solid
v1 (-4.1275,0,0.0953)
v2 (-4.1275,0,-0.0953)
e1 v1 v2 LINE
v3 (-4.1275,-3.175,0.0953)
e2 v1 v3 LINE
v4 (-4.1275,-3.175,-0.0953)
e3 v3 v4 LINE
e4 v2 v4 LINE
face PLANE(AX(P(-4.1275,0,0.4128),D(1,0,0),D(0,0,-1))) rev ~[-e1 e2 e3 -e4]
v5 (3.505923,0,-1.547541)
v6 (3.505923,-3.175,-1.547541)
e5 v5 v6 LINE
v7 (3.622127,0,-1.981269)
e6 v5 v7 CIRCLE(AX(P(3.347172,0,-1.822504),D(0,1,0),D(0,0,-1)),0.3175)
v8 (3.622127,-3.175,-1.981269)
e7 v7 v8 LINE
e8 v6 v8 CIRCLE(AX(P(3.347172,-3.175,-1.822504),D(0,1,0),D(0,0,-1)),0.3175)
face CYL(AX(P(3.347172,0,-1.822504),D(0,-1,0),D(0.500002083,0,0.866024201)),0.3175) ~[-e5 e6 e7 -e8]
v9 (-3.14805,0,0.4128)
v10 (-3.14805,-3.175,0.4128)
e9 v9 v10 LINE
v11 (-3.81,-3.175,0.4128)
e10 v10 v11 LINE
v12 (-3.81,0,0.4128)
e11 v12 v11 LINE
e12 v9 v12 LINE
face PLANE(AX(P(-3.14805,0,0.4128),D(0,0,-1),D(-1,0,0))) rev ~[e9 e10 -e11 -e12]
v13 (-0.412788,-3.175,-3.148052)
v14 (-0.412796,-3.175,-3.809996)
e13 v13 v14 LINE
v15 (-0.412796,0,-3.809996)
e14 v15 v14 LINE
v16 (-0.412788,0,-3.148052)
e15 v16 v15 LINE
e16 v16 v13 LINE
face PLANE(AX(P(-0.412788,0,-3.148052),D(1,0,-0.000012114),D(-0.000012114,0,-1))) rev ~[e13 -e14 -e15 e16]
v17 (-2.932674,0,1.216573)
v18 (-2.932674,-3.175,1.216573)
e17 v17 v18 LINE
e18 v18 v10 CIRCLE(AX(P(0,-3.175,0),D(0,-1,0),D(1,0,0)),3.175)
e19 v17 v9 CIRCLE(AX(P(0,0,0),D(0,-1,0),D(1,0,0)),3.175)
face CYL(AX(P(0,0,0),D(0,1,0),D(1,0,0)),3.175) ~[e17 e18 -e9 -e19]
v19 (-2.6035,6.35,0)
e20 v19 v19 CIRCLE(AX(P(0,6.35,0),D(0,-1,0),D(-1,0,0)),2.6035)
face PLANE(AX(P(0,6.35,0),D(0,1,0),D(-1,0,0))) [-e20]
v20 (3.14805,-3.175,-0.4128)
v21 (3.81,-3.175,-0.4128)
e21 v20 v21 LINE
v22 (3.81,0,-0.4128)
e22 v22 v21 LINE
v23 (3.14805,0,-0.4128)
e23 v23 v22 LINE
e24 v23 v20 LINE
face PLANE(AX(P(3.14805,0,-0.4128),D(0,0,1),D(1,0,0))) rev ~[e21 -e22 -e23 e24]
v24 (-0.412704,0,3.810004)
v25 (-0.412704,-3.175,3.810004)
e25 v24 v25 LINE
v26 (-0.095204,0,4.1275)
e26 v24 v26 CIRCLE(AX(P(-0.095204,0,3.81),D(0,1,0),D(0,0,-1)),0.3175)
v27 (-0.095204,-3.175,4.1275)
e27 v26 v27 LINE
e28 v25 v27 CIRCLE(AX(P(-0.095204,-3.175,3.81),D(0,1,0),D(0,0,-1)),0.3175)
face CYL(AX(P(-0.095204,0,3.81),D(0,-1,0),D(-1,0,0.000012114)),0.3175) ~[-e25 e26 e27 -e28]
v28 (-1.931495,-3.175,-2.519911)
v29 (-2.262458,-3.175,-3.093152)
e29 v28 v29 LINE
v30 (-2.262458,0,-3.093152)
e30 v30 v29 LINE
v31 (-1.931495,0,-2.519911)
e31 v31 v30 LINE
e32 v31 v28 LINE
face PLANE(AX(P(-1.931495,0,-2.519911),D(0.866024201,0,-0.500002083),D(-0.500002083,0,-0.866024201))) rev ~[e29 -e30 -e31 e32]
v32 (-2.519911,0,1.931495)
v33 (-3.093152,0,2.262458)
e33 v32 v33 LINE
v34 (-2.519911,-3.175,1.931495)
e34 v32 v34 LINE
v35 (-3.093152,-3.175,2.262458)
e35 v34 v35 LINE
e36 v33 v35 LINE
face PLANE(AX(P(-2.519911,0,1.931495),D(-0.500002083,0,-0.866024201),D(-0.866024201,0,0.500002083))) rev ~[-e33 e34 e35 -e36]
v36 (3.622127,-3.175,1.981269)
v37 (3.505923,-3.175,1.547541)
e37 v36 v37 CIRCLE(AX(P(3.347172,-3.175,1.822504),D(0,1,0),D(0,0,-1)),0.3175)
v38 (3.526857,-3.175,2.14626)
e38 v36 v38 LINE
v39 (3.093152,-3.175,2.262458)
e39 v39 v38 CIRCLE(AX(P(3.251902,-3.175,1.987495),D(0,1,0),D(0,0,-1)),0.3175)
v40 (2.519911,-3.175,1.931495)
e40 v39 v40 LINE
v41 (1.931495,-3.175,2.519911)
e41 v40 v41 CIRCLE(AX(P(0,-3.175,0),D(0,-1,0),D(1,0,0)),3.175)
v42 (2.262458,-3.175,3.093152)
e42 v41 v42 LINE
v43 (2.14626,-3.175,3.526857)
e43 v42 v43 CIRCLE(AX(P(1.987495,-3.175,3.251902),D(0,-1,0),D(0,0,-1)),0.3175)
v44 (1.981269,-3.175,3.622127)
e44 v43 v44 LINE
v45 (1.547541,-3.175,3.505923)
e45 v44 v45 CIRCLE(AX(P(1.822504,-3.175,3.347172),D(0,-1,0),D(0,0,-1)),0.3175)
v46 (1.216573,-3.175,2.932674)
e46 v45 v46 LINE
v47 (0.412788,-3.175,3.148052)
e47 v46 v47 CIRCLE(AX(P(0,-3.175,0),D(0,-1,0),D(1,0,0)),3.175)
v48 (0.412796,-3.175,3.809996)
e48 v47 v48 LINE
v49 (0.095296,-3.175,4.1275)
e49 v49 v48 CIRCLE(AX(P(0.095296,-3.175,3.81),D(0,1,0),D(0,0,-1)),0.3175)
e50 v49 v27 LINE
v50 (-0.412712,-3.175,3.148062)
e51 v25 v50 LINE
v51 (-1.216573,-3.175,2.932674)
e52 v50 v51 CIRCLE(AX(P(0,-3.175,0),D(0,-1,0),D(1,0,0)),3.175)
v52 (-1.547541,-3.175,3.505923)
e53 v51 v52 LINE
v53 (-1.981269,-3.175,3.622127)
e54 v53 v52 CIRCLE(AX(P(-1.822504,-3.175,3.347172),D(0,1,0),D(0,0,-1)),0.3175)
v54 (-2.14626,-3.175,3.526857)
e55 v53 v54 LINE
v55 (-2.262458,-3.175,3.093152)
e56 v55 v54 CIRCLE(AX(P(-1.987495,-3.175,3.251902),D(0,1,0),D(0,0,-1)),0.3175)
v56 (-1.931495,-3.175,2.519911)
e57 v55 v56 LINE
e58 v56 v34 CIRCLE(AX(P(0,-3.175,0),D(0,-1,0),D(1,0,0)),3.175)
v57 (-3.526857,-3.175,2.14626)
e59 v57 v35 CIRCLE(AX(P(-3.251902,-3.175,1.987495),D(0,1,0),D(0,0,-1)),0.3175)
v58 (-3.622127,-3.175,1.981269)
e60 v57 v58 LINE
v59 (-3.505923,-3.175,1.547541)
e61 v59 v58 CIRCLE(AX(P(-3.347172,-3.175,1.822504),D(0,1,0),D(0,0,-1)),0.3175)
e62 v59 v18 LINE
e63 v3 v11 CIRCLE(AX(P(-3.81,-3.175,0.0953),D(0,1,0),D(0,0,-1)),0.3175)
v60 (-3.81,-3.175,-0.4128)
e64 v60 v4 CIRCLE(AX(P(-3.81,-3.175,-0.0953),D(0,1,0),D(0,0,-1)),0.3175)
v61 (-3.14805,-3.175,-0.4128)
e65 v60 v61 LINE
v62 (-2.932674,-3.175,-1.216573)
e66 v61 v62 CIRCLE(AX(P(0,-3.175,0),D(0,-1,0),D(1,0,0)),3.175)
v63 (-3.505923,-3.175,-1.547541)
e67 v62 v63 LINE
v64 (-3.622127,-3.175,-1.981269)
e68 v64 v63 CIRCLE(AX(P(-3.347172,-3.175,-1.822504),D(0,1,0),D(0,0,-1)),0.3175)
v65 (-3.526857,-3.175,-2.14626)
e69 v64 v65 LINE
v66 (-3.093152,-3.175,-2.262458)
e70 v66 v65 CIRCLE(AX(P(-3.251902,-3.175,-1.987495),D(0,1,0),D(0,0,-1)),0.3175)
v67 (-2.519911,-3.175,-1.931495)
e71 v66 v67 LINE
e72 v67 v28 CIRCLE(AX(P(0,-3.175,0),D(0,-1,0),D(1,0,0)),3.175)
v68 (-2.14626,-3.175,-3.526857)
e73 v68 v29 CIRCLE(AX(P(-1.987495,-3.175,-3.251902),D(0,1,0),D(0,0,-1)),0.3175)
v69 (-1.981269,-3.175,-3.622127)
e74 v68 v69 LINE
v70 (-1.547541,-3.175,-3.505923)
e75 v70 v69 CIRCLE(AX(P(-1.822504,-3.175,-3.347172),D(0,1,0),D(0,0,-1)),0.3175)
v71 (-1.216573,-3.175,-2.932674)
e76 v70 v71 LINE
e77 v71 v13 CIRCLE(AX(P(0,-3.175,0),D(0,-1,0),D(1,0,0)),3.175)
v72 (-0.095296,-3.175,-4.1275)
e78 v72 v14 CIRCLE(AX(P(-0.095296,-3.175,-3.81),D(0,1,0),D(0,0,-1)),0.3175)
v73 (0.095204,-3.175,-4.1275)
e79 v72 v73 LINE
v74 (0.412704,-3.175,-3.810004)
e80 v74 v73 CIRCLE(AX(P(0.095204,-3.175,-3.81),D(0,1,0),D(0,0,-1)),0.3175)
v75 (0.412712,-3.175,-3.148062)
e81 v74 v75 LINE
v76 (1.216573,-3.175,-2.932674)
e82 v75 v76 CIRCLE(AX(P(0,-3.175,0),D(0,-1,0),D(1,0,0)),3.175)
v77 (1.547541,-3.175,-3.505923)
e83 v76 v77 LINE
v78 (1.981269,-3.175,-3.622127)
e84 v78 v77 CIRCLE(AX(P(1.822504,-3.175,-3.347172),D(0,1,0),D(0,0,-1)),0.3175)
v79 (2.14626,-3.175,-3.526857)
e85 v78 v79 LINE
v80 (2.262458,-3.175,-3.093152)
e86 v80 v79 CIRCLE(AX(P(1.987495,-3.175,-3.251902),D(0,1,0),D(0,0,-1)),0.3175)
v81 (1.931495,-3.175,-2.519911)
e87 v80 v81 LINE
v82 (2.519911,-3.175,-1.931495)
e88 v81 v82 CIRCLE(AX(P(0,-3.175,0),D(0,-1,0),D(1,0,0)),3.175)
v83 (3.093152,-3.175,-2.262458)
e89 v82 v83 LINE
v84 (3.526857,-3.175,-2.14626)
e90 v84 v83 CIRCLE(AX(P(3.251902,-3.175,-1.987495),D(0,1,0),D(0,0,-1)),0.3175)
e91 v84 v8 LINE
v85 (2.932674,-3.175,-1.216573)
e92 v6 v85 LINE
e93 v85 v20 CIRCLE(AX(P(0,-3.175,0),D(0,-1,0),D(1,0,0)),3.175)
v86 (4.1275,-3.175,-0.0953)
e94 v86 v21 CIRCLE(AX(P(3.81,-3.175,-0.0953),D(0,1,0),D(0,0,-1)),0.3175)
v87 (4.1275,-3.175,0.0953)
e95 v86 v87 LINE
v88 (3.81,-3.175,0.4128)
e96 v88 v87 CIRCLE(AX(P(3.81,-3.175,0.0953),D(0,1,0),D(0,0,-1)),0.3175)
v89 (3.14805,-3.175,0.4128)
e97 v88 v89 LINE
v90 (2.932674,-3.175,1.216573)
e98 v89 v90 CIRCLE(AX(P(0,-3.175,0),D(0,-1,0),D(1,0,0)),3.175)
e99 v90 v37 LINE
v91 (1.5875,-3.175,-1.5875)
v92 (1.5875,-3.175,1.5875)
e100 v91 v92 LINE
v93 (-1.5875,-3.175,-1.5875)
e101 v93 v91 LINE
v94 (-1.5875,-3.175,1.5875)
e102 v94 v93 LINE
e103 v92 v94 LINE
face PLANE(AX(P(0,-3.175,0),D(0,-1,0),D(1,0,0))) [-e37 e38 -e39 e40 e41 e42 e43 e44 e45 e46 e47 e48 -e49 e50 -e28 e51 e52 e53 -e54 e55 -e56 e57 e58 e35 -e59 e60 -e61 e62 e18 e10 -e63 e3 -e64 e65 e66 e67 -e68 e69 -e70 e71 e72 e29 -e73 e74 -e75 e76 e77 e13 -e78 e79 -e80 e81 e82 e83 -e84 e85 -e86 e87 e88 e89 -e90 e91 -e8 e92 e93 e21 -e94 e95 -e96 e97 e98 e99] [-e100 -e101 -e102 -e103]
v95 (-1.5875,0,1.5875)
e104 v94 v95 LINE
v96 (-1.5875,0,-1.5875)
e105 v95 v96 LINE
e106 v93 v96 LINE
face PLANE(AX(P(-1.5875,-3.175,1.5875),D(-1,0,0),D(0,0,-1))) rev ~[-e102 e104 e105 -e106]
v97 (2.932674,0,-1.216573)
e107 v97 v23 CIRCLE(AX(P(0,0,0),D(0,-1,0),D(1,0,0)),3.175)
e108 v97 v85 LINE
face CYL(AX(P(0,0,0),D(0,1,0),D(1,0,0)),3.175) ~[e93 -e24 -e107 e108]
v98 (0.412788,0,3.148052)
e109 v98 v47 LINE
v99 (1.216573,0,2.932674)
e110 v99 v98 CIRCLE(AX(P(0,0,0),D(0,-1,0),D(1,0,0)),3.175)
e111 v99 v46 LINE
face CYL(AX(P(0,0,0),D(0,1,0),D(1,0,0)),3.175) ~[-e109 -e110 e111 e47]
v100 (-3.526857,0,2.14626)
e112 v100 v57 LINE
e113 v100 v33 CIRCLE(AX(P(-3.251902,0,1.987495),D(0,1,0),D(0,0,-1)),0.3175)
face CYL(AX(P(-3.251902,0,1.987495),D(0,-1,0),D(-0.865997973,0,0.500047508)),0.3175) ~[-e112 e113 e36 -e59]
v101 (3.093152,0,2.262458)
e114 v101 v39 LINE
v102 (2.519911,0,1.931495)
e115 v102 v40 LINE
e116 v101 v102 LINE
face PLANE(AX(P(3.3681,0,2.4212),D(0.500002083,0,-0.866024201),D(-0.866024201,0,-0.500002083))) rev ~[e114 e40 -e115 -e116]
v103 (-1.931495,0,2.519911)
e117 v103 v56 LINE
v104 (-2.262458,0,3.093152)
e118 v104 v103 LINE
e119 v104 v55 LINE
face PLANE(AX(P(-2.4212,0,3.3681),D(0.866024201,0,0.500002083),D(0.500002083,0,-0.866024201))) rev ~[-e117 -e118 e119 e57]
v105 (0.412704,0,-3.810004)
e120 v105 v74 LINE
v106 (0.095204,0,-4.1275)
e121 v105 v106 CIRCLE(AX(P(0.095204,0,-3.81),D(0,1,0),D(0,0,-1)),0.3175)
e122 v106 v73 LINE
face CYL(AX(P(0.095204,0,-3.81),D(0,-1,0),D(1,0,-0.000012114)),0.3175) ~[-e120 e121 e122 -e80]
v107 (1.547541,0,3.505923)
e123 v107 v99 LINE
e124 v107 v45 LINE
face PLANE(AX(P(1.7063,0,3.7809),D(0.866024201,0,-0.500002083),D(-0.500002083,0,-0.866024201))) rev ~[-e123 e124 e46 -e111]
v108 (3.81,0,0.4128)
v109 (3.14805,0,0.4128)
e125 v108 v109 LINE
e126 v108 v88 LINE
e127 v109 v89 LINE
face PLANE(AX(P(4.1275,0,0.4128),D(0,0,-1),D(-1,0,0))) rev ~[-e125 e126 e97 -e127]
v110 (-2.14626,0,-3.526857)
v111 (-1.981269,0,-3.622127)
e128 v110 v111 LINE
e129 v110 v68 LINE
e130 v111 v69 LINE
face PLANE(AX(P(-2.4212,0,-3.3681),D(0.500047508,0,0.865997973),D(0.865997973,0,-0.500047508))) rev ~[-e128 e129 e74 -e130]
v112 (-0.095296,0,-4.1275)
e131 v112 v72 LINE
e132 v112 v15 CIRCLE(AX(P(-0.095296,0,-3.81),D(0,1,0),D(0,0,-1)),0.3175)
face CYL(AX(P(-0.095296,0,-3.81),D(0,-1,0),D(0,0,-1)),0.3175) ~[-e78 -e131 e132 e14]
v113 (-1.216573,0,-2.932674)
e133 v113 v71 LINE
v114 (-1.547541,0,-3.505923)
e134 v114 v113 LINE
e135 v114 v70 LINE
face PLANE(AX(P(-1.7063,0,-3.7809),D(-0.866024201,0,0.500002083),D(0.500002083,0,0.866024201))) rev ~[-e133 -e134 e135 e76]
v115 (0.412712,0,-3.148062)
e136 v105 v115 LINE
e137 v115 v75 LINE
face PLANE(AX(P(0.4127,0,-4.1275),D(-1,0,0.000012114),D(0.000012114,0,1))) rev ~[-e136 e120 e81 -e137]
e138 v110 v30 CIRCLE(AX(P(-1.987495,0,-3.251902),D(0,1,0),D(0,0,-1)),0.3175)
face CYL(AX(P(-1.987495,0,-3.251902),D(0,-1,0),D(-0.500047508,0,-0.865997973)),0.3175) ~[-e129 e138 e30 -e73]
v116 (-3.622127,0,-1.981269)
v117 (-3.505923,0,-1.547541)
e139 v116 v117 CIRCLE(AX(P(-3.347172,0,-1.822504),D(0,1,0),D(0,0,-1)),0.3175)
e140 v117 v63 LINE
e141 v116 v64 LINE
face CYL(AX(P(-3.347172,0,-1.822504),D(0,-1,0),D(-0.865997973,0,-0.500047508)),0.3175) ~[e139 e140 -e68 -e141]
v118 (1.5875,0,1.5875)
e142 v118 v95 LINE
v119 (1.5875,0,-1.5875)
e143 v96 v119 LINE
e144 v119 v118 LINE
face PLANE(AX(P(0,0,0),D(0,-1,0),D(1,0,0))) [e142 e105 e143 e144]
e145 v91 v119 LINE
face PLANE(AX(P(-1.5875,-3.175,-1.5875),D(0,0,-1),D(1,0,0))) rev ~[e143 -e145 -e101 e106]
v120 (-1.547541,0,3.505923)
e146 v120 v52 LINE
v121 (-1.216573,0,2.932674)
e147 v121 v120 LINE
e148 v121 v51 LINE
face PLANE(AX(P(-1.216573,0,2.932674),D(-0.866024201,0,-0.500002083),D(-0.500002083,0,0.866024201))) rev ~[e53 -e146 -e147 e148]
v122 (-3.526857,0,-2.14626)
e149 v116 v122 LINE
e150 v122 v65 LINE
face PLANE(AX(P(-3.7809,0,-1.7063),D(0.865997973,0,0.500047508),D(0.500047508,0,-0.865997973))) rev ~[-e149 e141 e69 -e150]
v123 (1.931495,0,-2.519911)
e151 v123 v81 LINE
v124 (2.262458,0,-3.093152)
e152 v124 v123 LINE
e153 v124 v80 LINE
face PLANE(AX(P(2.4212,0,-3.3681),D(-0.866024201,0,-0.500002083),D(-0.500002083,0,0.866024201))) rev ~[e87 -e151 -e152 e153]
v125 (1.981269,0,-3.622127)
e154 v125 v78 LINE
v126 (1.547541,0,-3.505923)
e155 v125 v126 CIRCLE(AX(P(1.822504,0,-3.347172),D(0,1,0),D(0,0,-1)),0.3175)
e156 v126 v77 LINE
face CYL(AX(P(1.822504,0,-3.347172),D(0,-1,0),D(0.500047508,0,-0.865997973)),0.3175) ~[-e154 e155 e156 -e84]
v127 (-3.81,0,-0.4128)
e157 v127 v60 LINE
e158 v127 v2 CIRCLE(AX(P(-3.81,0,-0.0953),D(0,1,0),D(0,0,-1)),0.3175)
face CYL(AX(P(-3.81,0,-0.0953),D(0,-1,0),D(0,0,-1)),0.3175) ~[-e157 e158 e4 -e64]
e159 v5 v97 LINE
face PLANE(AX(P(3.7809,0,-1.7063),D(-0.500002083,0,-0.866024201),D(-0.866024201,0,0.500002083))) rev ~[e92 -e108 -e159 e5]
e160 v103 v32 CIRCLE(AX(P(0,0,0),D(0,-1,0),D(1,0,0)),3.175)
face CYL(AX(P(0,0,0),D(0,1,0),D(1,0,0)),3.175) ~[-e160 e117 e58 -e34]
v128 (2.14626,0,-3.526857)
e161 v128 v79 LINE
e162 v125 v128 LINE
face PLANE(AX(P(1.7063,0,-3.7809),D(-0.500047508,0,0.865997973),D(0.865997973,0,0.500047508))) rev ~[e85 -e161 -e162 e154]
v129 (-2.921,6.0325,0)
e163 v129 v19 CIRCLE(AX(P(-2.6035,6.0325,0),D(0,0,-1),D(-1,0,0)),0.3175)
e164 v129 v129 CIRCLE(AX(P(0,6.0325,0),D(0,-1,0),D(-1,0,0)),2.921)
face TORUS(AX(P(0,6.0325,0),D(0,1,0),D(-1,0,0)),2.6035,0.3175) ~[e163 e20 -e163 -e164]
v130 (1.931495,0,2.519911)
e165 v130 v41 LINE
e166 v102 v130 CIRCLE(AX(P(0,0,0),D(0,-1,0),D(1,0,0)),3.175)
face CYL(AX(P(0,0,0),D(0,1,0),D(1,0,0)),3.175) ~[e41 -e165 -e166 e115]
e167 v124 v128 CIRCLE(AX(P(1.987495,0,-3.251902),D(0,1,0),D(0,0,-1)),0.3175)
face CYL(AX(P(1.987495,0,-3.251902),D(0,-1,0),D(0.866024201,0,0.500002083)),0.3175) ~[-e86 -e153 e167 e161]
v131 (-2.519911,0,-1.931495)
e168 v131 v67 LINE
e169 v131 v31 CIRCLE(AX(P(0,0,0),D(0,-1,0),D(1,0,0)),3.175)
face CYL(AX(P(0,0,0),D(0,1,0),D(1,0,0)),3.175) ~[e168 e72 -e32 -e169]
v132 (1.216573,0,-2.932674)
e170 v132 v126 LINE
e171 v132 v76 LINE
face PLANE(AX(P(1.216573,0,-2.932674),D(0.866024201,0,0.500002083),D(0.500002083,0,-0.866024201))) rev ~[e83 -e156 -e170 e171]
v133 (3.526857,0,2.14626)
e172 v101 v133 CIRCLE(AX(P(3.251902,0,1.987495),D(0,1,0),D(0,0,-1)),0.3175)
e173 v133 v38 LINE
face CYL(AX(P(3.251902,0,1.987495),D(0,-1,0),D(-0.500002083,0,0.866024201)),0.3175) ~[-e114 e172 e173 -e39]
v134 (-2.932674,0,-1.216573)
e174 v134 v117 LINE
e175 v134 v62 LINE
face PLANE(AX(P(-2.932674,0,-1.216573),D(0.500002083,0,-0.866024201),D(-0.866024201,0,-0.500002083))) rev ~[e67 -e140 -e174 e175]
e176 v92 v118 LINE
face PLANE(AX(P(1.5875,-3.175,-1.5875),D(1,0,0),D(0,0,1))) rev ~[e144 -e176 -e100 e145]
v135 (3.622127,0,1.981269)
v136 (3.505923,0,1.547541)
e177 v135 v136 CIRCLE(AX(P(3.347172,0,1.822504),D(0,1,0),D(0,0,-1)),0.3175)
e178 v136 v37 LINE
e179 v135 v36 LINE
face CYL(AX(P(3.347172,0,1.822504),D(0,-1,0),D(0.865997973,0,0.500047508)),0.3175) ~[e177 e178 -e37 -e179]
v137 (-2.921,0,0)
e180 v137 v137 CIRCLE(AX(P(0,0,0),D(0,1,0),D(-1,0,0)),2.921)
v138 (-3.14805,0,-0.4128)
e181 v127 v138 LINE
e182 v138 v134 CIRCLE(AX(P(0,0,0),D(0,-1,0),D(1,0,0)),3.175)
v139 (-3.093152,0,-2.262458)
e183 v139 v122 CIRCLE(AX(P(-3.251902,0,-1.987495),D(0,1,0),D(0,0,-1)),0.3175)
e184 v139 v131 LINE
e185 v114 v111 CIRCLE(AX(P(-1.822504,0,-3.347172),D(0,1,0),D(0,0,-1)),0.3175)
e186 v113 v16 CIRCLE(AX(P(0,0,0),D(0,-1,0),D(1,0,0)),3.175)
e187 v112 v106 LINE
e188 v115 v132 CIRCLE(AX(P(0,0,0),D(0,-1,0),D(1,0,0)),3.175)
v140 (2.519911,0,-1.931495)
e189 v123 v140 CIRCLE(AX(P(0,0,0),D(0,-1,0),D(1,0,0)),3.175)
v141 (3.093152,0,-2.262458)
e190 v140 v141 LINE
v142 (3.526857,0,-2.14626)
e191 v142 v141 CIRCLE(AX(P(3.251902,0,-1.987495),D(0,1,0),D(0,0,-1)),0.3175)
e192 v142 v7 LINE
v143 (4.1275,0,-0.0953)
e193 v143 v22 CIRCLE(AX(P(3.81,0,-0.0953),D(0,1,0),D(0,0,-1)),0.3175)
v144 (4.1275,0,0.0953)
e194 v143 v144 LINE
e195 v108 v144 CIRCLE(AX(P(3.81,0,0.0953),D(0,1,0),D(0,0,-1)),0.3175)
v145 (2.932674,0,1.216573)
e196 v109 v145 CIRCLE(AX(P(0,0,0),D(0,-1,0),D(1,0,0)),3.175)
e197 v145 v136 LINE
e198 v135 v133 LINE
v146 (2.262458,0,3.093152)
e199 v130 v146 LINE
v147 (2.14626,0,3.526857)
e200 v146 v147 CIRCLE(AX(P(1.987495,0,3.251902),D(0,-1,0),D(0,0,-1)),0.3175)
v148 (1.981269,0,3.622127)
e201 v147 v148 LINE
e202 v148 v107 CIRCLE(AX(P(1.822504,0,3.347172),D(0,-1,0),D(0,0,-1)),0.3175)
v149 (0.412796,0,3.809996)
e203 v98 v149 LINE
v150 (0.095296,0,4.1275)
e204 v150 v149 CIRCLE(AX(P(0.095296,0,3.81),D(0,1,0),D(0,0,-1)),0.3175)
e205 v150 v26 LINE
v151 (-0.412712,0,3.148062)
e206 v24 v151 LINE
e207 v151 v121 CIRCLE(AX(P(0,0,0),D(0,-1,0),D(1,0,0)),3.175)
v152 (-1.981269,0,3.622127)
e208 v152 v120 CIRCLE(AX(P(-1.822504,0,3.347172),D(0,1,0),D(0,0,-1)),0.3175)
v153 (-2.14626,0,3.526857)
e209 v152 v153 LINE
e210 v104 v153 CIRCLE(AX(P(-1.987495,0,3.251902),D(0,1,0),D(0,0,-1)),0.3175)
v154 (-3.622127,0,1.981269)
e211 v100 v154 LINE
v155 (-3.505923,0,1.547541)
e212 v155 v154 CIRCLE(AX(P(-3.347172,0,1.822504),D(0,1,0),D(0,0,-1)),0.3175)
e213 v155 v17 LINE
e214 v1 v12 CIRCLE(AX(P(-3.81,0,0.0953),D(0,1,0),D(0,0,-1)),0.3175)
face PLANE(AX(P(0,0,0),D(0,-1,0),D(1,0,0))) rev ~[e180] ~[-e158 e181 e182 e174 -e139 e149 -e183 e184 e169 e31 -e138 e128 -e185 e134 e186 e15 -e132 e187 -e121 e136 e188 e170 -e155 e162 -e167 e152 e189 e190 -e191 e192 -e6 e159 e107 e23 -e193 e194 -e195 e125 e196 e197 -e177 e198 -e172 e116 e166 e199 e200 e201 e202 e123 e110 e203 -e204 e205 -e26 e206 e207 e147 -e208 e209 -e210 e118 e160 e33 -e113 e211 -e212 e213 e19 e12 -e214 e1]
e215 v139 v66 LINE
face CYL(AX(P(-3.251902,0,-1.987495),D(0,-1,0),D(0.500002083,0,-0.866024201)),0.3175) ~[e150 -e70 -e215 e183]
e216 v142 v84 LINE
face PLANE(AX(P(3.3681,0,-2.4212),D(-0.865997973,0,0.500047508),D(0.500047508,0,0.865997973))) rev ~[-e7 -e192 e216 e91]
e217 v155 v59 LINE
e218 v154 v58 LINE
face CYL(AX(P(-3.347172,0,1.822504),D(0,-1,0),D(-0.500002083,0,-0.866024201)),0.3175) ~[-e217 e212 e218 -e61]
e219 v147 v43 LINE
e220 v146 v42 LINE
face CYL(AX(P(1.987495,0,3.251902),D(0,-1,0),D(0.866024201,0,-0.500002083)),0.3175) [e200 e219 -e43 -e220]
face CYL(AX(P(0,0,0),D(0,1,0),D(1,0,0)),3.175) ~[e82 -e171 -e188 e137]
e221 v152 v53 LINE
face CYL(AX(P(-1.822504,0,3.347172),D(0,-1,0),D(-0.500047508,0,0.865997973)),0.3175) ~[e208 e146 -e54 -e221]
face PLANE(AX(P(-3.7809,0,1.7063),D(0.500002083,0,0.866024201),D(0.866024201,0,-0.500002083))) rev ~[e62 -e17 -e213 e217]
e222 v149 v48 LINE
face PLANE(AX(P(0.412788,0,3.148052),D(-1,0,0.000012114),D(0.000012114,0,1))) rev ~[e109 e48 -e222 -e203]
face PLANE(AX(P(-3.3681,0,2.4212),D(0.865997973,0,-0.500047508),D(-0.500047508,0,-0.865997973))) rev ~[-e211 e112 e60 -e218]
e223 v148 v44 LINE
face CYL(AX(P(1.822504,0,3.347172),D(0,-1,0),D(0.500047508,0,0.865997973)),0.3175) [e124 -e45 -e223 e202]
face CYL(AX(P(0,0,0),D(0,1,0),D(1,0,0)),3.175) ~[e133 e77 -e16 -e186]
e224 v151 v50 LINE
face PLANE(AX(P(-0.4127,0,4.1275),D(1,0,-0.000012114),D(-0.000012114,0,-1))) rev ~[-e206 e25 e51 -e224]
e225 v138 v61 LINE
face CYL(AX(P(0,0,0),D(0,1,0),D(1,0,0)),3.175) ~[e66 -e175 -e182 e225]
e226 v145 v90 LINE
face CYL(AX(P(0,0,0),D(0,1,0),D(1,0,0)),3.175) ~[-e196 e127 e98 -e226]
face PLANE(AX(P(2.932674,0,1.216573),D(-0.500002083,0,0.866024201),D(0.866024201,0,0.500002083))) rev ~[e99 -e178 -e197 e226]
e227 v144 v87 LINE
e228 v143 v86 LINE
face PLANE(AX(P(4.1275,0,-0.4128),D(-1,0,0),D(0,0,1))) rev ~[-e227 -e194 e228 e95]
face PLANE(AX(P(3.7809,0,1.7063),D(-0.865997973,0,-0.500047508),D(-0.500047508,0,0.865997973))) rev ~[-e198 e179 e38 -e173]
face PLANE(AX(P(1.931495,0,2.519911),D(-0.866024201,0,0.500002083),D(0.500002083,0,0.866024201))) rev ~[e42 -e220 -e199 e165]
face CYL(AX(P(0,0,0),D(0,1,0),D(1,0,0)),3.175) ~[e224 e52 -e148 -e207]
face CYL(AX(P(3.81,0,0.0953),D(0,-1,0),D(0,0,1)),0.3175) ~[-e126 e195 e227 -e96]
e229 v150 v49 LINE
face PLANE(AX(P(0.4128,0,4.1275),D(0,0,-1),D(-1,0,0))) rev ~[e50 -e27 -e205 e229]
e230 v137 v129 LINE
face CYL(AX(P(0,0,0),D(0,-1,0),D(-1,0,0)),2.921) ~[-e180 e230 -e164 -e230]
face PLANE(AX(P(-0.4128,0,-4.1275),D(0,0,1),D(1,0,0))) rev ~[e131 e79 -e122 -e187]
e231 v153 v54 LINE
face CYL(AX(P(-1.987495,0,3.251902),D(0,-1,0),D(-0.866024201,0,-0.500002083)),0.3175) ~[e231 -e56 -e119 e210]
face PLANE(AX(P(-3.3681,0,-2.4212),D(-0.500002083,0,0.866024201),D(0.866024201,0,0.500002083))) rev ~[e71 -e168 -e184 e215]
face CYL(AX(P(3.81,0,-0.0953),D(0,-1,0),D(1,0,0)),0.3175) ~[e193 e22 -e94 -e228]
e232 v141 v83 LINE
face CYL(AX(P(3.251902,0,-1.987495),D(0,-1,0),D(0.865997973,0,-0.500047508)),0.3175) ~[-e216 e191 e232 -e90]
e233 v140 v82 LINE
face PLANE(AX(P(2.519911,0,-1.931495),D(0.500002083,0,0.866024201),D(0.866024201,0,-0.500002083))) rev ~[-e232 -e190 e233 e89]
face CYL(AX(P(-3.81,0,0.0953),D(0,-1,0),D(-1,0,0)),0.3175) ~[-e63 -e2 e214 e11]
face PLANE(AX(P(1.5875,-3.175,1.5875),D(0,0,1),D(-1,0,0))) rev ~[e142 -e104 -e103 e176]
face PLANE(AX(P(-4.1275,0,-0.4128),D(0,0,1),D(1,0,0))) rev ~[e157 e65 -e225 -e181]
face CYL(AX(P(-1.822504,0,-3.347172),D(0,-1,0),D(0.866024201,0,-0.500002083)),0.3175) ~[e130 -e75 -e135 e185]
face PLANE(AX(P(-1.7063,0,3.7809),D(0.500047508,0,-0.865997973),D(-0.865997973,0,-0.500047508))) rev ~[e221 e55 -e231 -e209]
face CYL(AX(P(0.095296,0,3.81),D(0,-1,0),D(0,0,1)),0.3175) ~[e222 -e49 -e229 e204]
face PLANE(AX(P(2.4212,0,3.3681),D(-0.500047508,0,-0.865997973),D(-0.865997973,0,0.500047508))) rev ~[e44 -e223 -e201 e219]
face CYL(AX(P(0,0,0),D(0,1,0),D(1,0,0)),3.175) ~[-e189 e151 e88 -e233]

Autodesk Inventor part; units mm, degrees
ref_plane "YZ Plane" through (0, 0, 0) normal (1, 0, 0) x (0, 1, 0)
ref_plane "XZ Plane" through (0, 0, 0) normal (0, 1, 0) x (-1, 0, 0)
ref_plane "XY Plane" through (0, 0, 0) normal (0, 0, 1) x (1, 0, 0)
sketch "Sketch1" plane through (0, 0, 0) normal (0, 1, 0) x (-1, 0, 0)
  circle A0 centre (0, 0) radius 2.921
  dimension "d0" = 5.842
extrude "Extrusion1" add sketch "Sketch1" along normal blind 6.35
sketch "Sketch2" plane through (0, 0, 0) normal (0, -1, 0) x (1, 0, 0)
  circle A0 centre (0, 0) radius 2.921
  line L0 (-4.1275, -0.4128) -> (4.1275, -0.4128)
  line L1 (4.1275, -0.4128) -> (4.1275, 0.4128)
  line L2 (4.1275, 0.4128) -> (-4.1275, 0.4128)
  line L3 (-4.1275, 0.4128) -> (-4.1275, -0.4128)
  line L4 (-4.1275, -0.4128) -> (4.1275, 0.4128) construction
  line L5 (4.1275, -0.4128) -> (-4.1275, 0.4128) construction
  line L6 (3.7809, 1.7063) -> (3.3681, 2.4212)
  line L7 (-3.3681, -2.4212) -> (3.7809, 1.7063)
  line L8 (3.3681, 2.4212) -> (-3.7809, -1.7063)
  line L9 (-3.7809, -1.7063) -> (-3.3681, -2.4212)
  line L10 (2.4212, 3.3681) -> (1.7063, 3.7809)
  line L11 (-1.7063, -3.7809) -> (2.4212, 3.3681)
  line L12 (1.7063, 3.7809) -> (-2.4212, -3.3681)
  line L13 (-2.4212, -3.3681) -> (-1.7063, -3.7809)
  line L14 (0.4128, 4.1275) -> (-0.4127, 4.1275)
  line L15 (0.4127, -4.1275) -> (0.4128, 4.1275)
  line L16 (-0.4127, 4.1275) -> (-0.4128, -4.1275)
  line L17 (-0.4128, -4.1275) -> (0.4127, -4.1275)
  line L18 (-1.7063, 3.7809) -> (-2.4212, 3.3681)
  line L19 (2.4212, -3.3681) -> (-1.7063, 3.7809)
  line L20 (-2.4212, 3.3681) -> (1.7063, -3.7809)
  line L21 (1.7063, -3.7809) -> (2.4212, -3.3681)
  line L22 (-3.3681, 2.4212) -> (-3.7809, 1.7063)
  line L23 (3.7809, -1.7063) -> (-3.3681, 2.4212)
  line L24 (-3.7809, 1.7063) -> (3.3681, -2.4212)
  line L25 (3.3681, -2.4212) -> (3.7809, -1.7063)
  line L26 (-4.1275, 0.4128) -> (-4.1275, -0.4127)
  line L27 (4.1275, 0.4127) -> (-4.1275, 0.4128)
  line L28 (-4.1275, -0.4127) -> (4.1275, -0.4128)
  line L29 (4.1275, -0.4128) -> (4.1275, 0.4127)
  line L30 (-3.7809, -1.7063) -> (-3.3681, -2.4212)
  line L31 (3.3681, 2.4212) -> (-3.7809, -1.7063)
  line L32 (-3.3681, -2.4212) -> (3.7809, 1.7063)
  line L33 (3.7809, 1.7063) -> (3.3681, 2.4212)
  line L34 (-2.4212, -3.3681) -> (-1.7063, -3.7809)
  line L35 (1.7063, 3.7809) -> (-2.4212, -3.3681)
  line L36 (-1.7063, -3.7809) -> (2.4212, 3.3681)
  line L37 (2.4212, 3.3681) -> (1.7063, 3.7809)
  line L38 (-0.4128, -4.1275) -> (0.4127, -4.1275)
  line L39 (-0.4127, 4.1275) -> (-0.4128, -4.1275)
  line L40 (0.4127, -4.1275) -> (0.4128, 4.1275)
  line L41 (0.4128, 4.1275) -> (-0.4127, 4.1275)
  line L42 (1.7063, -3.7809) -> (2.4212, -3.3681)
  line L43 (-2.4212, 3.3681) -> (1.7063, -3.7809)
  line L44 (2.4212, -3.3681) -> (-1.7063, 3.7809)
  line L45 (-1.7063, 3.7809) -> (-2.4212, 3.3681)
  line L46 (3.3681, -2.4212) -> (3.7809, -1.7063)
  line L47 (-3.7809, 1.7063) -> (3.3681, -2.4212)
  line L48 (3.7809, -1.7063) -> (-3.3681, 2.4212)
  line L49 (-3.3681, 2.4212) -> (-3.7809, 1.7063)
  circle A1 centre (0, 0) radius 3.175
  circle A2 centre (0, 0) radius 3.175
  point P0 (2.9327, -1.2166)
  point P1 (3.1481, -0.4127)
  point P2 (3.1481, 0.4128)
  point P3 (2.9327, 1.2166)
  point P4 (2.5199, 1.9315)
  point P5 (1.9315, 2.5199)
  point P6 (1.2166, 2.9327)
  point P7 (0.4128, 3.1481)
  point P8 (-0.4128, 3.1481)
  point P9 (-1.2166, 2.9327)
  point P10 (-1.9315, 2.5199)
  point P11 (-2.5199, 1.9315)
  point P12 (-2.9327, 1.2166)
  point P13 (-3.1481, 0.4127)
  point P14 (-3.1481, -0.4128)
  point P15 (-2.9327, -1.2166)
  point P16 (-2.5199, -1.9315)
  point P17 (-1.9315, -2.5199)
  point P18 (-1.2166, -2.9327)
  point P19 (-0.4128, -3.1481)
  point P20 (0.4127, -3.1481)
  point P21 (1.2166, -2.9327)
  point P22 (1.9315, -2.5199)
  point P23 (2.5199, -1.9315)
  dimension "d5" = 8.255
  dimension "d6" = 0.8255
  dimension "d7" = 360
extrude "Extrusion2" add sketch "Sketch2" along normal blind 3.175
fillet "Fillet1" radius 0.3175 2 edges at (2.4212, -1.5875, 3.3681) (1.7063, -1.5875, 3.7809)
pattern_circular "Circular Pattern1" count 12 over 360 about axis through (0, 0, 0) along (0, 1, 0) of "Fillet1", "Extrusion1"
fillet "Fillet2" radius 0.3175 1 edges at (2.921, 6.35, 0)
sketch "Sketch3" plane through (0, -3.175, 0) normal (0, -1, 0) x (1, 0, 0)
  line L0 (-1.5875, -1.5875) -> (1.5875, -1.5875)
  line L1 (1.5875, -1.5875) -> (1.5875, 1.5875)
  line L2 (1.5875, 1.5875) -> (-1.5875, 1.5875)
  line L3 (-1.5875, 1.5875) -> (-1.5875, -1.5875)
  line L4 (-1.5875, -1.5875) -> (1.5875, 1.5875) construction
  line L5 (1.5875, -1.5875) -> (-1.5875, 1.5875) construction
  point P0 (0, 0)
  dimension "d15" = 3.175
  dimension "d16" = 3.175
extrude "Extrusion3" cut sketch "Sketch3" against normal blind 3.175
properties part number "Gear1"
